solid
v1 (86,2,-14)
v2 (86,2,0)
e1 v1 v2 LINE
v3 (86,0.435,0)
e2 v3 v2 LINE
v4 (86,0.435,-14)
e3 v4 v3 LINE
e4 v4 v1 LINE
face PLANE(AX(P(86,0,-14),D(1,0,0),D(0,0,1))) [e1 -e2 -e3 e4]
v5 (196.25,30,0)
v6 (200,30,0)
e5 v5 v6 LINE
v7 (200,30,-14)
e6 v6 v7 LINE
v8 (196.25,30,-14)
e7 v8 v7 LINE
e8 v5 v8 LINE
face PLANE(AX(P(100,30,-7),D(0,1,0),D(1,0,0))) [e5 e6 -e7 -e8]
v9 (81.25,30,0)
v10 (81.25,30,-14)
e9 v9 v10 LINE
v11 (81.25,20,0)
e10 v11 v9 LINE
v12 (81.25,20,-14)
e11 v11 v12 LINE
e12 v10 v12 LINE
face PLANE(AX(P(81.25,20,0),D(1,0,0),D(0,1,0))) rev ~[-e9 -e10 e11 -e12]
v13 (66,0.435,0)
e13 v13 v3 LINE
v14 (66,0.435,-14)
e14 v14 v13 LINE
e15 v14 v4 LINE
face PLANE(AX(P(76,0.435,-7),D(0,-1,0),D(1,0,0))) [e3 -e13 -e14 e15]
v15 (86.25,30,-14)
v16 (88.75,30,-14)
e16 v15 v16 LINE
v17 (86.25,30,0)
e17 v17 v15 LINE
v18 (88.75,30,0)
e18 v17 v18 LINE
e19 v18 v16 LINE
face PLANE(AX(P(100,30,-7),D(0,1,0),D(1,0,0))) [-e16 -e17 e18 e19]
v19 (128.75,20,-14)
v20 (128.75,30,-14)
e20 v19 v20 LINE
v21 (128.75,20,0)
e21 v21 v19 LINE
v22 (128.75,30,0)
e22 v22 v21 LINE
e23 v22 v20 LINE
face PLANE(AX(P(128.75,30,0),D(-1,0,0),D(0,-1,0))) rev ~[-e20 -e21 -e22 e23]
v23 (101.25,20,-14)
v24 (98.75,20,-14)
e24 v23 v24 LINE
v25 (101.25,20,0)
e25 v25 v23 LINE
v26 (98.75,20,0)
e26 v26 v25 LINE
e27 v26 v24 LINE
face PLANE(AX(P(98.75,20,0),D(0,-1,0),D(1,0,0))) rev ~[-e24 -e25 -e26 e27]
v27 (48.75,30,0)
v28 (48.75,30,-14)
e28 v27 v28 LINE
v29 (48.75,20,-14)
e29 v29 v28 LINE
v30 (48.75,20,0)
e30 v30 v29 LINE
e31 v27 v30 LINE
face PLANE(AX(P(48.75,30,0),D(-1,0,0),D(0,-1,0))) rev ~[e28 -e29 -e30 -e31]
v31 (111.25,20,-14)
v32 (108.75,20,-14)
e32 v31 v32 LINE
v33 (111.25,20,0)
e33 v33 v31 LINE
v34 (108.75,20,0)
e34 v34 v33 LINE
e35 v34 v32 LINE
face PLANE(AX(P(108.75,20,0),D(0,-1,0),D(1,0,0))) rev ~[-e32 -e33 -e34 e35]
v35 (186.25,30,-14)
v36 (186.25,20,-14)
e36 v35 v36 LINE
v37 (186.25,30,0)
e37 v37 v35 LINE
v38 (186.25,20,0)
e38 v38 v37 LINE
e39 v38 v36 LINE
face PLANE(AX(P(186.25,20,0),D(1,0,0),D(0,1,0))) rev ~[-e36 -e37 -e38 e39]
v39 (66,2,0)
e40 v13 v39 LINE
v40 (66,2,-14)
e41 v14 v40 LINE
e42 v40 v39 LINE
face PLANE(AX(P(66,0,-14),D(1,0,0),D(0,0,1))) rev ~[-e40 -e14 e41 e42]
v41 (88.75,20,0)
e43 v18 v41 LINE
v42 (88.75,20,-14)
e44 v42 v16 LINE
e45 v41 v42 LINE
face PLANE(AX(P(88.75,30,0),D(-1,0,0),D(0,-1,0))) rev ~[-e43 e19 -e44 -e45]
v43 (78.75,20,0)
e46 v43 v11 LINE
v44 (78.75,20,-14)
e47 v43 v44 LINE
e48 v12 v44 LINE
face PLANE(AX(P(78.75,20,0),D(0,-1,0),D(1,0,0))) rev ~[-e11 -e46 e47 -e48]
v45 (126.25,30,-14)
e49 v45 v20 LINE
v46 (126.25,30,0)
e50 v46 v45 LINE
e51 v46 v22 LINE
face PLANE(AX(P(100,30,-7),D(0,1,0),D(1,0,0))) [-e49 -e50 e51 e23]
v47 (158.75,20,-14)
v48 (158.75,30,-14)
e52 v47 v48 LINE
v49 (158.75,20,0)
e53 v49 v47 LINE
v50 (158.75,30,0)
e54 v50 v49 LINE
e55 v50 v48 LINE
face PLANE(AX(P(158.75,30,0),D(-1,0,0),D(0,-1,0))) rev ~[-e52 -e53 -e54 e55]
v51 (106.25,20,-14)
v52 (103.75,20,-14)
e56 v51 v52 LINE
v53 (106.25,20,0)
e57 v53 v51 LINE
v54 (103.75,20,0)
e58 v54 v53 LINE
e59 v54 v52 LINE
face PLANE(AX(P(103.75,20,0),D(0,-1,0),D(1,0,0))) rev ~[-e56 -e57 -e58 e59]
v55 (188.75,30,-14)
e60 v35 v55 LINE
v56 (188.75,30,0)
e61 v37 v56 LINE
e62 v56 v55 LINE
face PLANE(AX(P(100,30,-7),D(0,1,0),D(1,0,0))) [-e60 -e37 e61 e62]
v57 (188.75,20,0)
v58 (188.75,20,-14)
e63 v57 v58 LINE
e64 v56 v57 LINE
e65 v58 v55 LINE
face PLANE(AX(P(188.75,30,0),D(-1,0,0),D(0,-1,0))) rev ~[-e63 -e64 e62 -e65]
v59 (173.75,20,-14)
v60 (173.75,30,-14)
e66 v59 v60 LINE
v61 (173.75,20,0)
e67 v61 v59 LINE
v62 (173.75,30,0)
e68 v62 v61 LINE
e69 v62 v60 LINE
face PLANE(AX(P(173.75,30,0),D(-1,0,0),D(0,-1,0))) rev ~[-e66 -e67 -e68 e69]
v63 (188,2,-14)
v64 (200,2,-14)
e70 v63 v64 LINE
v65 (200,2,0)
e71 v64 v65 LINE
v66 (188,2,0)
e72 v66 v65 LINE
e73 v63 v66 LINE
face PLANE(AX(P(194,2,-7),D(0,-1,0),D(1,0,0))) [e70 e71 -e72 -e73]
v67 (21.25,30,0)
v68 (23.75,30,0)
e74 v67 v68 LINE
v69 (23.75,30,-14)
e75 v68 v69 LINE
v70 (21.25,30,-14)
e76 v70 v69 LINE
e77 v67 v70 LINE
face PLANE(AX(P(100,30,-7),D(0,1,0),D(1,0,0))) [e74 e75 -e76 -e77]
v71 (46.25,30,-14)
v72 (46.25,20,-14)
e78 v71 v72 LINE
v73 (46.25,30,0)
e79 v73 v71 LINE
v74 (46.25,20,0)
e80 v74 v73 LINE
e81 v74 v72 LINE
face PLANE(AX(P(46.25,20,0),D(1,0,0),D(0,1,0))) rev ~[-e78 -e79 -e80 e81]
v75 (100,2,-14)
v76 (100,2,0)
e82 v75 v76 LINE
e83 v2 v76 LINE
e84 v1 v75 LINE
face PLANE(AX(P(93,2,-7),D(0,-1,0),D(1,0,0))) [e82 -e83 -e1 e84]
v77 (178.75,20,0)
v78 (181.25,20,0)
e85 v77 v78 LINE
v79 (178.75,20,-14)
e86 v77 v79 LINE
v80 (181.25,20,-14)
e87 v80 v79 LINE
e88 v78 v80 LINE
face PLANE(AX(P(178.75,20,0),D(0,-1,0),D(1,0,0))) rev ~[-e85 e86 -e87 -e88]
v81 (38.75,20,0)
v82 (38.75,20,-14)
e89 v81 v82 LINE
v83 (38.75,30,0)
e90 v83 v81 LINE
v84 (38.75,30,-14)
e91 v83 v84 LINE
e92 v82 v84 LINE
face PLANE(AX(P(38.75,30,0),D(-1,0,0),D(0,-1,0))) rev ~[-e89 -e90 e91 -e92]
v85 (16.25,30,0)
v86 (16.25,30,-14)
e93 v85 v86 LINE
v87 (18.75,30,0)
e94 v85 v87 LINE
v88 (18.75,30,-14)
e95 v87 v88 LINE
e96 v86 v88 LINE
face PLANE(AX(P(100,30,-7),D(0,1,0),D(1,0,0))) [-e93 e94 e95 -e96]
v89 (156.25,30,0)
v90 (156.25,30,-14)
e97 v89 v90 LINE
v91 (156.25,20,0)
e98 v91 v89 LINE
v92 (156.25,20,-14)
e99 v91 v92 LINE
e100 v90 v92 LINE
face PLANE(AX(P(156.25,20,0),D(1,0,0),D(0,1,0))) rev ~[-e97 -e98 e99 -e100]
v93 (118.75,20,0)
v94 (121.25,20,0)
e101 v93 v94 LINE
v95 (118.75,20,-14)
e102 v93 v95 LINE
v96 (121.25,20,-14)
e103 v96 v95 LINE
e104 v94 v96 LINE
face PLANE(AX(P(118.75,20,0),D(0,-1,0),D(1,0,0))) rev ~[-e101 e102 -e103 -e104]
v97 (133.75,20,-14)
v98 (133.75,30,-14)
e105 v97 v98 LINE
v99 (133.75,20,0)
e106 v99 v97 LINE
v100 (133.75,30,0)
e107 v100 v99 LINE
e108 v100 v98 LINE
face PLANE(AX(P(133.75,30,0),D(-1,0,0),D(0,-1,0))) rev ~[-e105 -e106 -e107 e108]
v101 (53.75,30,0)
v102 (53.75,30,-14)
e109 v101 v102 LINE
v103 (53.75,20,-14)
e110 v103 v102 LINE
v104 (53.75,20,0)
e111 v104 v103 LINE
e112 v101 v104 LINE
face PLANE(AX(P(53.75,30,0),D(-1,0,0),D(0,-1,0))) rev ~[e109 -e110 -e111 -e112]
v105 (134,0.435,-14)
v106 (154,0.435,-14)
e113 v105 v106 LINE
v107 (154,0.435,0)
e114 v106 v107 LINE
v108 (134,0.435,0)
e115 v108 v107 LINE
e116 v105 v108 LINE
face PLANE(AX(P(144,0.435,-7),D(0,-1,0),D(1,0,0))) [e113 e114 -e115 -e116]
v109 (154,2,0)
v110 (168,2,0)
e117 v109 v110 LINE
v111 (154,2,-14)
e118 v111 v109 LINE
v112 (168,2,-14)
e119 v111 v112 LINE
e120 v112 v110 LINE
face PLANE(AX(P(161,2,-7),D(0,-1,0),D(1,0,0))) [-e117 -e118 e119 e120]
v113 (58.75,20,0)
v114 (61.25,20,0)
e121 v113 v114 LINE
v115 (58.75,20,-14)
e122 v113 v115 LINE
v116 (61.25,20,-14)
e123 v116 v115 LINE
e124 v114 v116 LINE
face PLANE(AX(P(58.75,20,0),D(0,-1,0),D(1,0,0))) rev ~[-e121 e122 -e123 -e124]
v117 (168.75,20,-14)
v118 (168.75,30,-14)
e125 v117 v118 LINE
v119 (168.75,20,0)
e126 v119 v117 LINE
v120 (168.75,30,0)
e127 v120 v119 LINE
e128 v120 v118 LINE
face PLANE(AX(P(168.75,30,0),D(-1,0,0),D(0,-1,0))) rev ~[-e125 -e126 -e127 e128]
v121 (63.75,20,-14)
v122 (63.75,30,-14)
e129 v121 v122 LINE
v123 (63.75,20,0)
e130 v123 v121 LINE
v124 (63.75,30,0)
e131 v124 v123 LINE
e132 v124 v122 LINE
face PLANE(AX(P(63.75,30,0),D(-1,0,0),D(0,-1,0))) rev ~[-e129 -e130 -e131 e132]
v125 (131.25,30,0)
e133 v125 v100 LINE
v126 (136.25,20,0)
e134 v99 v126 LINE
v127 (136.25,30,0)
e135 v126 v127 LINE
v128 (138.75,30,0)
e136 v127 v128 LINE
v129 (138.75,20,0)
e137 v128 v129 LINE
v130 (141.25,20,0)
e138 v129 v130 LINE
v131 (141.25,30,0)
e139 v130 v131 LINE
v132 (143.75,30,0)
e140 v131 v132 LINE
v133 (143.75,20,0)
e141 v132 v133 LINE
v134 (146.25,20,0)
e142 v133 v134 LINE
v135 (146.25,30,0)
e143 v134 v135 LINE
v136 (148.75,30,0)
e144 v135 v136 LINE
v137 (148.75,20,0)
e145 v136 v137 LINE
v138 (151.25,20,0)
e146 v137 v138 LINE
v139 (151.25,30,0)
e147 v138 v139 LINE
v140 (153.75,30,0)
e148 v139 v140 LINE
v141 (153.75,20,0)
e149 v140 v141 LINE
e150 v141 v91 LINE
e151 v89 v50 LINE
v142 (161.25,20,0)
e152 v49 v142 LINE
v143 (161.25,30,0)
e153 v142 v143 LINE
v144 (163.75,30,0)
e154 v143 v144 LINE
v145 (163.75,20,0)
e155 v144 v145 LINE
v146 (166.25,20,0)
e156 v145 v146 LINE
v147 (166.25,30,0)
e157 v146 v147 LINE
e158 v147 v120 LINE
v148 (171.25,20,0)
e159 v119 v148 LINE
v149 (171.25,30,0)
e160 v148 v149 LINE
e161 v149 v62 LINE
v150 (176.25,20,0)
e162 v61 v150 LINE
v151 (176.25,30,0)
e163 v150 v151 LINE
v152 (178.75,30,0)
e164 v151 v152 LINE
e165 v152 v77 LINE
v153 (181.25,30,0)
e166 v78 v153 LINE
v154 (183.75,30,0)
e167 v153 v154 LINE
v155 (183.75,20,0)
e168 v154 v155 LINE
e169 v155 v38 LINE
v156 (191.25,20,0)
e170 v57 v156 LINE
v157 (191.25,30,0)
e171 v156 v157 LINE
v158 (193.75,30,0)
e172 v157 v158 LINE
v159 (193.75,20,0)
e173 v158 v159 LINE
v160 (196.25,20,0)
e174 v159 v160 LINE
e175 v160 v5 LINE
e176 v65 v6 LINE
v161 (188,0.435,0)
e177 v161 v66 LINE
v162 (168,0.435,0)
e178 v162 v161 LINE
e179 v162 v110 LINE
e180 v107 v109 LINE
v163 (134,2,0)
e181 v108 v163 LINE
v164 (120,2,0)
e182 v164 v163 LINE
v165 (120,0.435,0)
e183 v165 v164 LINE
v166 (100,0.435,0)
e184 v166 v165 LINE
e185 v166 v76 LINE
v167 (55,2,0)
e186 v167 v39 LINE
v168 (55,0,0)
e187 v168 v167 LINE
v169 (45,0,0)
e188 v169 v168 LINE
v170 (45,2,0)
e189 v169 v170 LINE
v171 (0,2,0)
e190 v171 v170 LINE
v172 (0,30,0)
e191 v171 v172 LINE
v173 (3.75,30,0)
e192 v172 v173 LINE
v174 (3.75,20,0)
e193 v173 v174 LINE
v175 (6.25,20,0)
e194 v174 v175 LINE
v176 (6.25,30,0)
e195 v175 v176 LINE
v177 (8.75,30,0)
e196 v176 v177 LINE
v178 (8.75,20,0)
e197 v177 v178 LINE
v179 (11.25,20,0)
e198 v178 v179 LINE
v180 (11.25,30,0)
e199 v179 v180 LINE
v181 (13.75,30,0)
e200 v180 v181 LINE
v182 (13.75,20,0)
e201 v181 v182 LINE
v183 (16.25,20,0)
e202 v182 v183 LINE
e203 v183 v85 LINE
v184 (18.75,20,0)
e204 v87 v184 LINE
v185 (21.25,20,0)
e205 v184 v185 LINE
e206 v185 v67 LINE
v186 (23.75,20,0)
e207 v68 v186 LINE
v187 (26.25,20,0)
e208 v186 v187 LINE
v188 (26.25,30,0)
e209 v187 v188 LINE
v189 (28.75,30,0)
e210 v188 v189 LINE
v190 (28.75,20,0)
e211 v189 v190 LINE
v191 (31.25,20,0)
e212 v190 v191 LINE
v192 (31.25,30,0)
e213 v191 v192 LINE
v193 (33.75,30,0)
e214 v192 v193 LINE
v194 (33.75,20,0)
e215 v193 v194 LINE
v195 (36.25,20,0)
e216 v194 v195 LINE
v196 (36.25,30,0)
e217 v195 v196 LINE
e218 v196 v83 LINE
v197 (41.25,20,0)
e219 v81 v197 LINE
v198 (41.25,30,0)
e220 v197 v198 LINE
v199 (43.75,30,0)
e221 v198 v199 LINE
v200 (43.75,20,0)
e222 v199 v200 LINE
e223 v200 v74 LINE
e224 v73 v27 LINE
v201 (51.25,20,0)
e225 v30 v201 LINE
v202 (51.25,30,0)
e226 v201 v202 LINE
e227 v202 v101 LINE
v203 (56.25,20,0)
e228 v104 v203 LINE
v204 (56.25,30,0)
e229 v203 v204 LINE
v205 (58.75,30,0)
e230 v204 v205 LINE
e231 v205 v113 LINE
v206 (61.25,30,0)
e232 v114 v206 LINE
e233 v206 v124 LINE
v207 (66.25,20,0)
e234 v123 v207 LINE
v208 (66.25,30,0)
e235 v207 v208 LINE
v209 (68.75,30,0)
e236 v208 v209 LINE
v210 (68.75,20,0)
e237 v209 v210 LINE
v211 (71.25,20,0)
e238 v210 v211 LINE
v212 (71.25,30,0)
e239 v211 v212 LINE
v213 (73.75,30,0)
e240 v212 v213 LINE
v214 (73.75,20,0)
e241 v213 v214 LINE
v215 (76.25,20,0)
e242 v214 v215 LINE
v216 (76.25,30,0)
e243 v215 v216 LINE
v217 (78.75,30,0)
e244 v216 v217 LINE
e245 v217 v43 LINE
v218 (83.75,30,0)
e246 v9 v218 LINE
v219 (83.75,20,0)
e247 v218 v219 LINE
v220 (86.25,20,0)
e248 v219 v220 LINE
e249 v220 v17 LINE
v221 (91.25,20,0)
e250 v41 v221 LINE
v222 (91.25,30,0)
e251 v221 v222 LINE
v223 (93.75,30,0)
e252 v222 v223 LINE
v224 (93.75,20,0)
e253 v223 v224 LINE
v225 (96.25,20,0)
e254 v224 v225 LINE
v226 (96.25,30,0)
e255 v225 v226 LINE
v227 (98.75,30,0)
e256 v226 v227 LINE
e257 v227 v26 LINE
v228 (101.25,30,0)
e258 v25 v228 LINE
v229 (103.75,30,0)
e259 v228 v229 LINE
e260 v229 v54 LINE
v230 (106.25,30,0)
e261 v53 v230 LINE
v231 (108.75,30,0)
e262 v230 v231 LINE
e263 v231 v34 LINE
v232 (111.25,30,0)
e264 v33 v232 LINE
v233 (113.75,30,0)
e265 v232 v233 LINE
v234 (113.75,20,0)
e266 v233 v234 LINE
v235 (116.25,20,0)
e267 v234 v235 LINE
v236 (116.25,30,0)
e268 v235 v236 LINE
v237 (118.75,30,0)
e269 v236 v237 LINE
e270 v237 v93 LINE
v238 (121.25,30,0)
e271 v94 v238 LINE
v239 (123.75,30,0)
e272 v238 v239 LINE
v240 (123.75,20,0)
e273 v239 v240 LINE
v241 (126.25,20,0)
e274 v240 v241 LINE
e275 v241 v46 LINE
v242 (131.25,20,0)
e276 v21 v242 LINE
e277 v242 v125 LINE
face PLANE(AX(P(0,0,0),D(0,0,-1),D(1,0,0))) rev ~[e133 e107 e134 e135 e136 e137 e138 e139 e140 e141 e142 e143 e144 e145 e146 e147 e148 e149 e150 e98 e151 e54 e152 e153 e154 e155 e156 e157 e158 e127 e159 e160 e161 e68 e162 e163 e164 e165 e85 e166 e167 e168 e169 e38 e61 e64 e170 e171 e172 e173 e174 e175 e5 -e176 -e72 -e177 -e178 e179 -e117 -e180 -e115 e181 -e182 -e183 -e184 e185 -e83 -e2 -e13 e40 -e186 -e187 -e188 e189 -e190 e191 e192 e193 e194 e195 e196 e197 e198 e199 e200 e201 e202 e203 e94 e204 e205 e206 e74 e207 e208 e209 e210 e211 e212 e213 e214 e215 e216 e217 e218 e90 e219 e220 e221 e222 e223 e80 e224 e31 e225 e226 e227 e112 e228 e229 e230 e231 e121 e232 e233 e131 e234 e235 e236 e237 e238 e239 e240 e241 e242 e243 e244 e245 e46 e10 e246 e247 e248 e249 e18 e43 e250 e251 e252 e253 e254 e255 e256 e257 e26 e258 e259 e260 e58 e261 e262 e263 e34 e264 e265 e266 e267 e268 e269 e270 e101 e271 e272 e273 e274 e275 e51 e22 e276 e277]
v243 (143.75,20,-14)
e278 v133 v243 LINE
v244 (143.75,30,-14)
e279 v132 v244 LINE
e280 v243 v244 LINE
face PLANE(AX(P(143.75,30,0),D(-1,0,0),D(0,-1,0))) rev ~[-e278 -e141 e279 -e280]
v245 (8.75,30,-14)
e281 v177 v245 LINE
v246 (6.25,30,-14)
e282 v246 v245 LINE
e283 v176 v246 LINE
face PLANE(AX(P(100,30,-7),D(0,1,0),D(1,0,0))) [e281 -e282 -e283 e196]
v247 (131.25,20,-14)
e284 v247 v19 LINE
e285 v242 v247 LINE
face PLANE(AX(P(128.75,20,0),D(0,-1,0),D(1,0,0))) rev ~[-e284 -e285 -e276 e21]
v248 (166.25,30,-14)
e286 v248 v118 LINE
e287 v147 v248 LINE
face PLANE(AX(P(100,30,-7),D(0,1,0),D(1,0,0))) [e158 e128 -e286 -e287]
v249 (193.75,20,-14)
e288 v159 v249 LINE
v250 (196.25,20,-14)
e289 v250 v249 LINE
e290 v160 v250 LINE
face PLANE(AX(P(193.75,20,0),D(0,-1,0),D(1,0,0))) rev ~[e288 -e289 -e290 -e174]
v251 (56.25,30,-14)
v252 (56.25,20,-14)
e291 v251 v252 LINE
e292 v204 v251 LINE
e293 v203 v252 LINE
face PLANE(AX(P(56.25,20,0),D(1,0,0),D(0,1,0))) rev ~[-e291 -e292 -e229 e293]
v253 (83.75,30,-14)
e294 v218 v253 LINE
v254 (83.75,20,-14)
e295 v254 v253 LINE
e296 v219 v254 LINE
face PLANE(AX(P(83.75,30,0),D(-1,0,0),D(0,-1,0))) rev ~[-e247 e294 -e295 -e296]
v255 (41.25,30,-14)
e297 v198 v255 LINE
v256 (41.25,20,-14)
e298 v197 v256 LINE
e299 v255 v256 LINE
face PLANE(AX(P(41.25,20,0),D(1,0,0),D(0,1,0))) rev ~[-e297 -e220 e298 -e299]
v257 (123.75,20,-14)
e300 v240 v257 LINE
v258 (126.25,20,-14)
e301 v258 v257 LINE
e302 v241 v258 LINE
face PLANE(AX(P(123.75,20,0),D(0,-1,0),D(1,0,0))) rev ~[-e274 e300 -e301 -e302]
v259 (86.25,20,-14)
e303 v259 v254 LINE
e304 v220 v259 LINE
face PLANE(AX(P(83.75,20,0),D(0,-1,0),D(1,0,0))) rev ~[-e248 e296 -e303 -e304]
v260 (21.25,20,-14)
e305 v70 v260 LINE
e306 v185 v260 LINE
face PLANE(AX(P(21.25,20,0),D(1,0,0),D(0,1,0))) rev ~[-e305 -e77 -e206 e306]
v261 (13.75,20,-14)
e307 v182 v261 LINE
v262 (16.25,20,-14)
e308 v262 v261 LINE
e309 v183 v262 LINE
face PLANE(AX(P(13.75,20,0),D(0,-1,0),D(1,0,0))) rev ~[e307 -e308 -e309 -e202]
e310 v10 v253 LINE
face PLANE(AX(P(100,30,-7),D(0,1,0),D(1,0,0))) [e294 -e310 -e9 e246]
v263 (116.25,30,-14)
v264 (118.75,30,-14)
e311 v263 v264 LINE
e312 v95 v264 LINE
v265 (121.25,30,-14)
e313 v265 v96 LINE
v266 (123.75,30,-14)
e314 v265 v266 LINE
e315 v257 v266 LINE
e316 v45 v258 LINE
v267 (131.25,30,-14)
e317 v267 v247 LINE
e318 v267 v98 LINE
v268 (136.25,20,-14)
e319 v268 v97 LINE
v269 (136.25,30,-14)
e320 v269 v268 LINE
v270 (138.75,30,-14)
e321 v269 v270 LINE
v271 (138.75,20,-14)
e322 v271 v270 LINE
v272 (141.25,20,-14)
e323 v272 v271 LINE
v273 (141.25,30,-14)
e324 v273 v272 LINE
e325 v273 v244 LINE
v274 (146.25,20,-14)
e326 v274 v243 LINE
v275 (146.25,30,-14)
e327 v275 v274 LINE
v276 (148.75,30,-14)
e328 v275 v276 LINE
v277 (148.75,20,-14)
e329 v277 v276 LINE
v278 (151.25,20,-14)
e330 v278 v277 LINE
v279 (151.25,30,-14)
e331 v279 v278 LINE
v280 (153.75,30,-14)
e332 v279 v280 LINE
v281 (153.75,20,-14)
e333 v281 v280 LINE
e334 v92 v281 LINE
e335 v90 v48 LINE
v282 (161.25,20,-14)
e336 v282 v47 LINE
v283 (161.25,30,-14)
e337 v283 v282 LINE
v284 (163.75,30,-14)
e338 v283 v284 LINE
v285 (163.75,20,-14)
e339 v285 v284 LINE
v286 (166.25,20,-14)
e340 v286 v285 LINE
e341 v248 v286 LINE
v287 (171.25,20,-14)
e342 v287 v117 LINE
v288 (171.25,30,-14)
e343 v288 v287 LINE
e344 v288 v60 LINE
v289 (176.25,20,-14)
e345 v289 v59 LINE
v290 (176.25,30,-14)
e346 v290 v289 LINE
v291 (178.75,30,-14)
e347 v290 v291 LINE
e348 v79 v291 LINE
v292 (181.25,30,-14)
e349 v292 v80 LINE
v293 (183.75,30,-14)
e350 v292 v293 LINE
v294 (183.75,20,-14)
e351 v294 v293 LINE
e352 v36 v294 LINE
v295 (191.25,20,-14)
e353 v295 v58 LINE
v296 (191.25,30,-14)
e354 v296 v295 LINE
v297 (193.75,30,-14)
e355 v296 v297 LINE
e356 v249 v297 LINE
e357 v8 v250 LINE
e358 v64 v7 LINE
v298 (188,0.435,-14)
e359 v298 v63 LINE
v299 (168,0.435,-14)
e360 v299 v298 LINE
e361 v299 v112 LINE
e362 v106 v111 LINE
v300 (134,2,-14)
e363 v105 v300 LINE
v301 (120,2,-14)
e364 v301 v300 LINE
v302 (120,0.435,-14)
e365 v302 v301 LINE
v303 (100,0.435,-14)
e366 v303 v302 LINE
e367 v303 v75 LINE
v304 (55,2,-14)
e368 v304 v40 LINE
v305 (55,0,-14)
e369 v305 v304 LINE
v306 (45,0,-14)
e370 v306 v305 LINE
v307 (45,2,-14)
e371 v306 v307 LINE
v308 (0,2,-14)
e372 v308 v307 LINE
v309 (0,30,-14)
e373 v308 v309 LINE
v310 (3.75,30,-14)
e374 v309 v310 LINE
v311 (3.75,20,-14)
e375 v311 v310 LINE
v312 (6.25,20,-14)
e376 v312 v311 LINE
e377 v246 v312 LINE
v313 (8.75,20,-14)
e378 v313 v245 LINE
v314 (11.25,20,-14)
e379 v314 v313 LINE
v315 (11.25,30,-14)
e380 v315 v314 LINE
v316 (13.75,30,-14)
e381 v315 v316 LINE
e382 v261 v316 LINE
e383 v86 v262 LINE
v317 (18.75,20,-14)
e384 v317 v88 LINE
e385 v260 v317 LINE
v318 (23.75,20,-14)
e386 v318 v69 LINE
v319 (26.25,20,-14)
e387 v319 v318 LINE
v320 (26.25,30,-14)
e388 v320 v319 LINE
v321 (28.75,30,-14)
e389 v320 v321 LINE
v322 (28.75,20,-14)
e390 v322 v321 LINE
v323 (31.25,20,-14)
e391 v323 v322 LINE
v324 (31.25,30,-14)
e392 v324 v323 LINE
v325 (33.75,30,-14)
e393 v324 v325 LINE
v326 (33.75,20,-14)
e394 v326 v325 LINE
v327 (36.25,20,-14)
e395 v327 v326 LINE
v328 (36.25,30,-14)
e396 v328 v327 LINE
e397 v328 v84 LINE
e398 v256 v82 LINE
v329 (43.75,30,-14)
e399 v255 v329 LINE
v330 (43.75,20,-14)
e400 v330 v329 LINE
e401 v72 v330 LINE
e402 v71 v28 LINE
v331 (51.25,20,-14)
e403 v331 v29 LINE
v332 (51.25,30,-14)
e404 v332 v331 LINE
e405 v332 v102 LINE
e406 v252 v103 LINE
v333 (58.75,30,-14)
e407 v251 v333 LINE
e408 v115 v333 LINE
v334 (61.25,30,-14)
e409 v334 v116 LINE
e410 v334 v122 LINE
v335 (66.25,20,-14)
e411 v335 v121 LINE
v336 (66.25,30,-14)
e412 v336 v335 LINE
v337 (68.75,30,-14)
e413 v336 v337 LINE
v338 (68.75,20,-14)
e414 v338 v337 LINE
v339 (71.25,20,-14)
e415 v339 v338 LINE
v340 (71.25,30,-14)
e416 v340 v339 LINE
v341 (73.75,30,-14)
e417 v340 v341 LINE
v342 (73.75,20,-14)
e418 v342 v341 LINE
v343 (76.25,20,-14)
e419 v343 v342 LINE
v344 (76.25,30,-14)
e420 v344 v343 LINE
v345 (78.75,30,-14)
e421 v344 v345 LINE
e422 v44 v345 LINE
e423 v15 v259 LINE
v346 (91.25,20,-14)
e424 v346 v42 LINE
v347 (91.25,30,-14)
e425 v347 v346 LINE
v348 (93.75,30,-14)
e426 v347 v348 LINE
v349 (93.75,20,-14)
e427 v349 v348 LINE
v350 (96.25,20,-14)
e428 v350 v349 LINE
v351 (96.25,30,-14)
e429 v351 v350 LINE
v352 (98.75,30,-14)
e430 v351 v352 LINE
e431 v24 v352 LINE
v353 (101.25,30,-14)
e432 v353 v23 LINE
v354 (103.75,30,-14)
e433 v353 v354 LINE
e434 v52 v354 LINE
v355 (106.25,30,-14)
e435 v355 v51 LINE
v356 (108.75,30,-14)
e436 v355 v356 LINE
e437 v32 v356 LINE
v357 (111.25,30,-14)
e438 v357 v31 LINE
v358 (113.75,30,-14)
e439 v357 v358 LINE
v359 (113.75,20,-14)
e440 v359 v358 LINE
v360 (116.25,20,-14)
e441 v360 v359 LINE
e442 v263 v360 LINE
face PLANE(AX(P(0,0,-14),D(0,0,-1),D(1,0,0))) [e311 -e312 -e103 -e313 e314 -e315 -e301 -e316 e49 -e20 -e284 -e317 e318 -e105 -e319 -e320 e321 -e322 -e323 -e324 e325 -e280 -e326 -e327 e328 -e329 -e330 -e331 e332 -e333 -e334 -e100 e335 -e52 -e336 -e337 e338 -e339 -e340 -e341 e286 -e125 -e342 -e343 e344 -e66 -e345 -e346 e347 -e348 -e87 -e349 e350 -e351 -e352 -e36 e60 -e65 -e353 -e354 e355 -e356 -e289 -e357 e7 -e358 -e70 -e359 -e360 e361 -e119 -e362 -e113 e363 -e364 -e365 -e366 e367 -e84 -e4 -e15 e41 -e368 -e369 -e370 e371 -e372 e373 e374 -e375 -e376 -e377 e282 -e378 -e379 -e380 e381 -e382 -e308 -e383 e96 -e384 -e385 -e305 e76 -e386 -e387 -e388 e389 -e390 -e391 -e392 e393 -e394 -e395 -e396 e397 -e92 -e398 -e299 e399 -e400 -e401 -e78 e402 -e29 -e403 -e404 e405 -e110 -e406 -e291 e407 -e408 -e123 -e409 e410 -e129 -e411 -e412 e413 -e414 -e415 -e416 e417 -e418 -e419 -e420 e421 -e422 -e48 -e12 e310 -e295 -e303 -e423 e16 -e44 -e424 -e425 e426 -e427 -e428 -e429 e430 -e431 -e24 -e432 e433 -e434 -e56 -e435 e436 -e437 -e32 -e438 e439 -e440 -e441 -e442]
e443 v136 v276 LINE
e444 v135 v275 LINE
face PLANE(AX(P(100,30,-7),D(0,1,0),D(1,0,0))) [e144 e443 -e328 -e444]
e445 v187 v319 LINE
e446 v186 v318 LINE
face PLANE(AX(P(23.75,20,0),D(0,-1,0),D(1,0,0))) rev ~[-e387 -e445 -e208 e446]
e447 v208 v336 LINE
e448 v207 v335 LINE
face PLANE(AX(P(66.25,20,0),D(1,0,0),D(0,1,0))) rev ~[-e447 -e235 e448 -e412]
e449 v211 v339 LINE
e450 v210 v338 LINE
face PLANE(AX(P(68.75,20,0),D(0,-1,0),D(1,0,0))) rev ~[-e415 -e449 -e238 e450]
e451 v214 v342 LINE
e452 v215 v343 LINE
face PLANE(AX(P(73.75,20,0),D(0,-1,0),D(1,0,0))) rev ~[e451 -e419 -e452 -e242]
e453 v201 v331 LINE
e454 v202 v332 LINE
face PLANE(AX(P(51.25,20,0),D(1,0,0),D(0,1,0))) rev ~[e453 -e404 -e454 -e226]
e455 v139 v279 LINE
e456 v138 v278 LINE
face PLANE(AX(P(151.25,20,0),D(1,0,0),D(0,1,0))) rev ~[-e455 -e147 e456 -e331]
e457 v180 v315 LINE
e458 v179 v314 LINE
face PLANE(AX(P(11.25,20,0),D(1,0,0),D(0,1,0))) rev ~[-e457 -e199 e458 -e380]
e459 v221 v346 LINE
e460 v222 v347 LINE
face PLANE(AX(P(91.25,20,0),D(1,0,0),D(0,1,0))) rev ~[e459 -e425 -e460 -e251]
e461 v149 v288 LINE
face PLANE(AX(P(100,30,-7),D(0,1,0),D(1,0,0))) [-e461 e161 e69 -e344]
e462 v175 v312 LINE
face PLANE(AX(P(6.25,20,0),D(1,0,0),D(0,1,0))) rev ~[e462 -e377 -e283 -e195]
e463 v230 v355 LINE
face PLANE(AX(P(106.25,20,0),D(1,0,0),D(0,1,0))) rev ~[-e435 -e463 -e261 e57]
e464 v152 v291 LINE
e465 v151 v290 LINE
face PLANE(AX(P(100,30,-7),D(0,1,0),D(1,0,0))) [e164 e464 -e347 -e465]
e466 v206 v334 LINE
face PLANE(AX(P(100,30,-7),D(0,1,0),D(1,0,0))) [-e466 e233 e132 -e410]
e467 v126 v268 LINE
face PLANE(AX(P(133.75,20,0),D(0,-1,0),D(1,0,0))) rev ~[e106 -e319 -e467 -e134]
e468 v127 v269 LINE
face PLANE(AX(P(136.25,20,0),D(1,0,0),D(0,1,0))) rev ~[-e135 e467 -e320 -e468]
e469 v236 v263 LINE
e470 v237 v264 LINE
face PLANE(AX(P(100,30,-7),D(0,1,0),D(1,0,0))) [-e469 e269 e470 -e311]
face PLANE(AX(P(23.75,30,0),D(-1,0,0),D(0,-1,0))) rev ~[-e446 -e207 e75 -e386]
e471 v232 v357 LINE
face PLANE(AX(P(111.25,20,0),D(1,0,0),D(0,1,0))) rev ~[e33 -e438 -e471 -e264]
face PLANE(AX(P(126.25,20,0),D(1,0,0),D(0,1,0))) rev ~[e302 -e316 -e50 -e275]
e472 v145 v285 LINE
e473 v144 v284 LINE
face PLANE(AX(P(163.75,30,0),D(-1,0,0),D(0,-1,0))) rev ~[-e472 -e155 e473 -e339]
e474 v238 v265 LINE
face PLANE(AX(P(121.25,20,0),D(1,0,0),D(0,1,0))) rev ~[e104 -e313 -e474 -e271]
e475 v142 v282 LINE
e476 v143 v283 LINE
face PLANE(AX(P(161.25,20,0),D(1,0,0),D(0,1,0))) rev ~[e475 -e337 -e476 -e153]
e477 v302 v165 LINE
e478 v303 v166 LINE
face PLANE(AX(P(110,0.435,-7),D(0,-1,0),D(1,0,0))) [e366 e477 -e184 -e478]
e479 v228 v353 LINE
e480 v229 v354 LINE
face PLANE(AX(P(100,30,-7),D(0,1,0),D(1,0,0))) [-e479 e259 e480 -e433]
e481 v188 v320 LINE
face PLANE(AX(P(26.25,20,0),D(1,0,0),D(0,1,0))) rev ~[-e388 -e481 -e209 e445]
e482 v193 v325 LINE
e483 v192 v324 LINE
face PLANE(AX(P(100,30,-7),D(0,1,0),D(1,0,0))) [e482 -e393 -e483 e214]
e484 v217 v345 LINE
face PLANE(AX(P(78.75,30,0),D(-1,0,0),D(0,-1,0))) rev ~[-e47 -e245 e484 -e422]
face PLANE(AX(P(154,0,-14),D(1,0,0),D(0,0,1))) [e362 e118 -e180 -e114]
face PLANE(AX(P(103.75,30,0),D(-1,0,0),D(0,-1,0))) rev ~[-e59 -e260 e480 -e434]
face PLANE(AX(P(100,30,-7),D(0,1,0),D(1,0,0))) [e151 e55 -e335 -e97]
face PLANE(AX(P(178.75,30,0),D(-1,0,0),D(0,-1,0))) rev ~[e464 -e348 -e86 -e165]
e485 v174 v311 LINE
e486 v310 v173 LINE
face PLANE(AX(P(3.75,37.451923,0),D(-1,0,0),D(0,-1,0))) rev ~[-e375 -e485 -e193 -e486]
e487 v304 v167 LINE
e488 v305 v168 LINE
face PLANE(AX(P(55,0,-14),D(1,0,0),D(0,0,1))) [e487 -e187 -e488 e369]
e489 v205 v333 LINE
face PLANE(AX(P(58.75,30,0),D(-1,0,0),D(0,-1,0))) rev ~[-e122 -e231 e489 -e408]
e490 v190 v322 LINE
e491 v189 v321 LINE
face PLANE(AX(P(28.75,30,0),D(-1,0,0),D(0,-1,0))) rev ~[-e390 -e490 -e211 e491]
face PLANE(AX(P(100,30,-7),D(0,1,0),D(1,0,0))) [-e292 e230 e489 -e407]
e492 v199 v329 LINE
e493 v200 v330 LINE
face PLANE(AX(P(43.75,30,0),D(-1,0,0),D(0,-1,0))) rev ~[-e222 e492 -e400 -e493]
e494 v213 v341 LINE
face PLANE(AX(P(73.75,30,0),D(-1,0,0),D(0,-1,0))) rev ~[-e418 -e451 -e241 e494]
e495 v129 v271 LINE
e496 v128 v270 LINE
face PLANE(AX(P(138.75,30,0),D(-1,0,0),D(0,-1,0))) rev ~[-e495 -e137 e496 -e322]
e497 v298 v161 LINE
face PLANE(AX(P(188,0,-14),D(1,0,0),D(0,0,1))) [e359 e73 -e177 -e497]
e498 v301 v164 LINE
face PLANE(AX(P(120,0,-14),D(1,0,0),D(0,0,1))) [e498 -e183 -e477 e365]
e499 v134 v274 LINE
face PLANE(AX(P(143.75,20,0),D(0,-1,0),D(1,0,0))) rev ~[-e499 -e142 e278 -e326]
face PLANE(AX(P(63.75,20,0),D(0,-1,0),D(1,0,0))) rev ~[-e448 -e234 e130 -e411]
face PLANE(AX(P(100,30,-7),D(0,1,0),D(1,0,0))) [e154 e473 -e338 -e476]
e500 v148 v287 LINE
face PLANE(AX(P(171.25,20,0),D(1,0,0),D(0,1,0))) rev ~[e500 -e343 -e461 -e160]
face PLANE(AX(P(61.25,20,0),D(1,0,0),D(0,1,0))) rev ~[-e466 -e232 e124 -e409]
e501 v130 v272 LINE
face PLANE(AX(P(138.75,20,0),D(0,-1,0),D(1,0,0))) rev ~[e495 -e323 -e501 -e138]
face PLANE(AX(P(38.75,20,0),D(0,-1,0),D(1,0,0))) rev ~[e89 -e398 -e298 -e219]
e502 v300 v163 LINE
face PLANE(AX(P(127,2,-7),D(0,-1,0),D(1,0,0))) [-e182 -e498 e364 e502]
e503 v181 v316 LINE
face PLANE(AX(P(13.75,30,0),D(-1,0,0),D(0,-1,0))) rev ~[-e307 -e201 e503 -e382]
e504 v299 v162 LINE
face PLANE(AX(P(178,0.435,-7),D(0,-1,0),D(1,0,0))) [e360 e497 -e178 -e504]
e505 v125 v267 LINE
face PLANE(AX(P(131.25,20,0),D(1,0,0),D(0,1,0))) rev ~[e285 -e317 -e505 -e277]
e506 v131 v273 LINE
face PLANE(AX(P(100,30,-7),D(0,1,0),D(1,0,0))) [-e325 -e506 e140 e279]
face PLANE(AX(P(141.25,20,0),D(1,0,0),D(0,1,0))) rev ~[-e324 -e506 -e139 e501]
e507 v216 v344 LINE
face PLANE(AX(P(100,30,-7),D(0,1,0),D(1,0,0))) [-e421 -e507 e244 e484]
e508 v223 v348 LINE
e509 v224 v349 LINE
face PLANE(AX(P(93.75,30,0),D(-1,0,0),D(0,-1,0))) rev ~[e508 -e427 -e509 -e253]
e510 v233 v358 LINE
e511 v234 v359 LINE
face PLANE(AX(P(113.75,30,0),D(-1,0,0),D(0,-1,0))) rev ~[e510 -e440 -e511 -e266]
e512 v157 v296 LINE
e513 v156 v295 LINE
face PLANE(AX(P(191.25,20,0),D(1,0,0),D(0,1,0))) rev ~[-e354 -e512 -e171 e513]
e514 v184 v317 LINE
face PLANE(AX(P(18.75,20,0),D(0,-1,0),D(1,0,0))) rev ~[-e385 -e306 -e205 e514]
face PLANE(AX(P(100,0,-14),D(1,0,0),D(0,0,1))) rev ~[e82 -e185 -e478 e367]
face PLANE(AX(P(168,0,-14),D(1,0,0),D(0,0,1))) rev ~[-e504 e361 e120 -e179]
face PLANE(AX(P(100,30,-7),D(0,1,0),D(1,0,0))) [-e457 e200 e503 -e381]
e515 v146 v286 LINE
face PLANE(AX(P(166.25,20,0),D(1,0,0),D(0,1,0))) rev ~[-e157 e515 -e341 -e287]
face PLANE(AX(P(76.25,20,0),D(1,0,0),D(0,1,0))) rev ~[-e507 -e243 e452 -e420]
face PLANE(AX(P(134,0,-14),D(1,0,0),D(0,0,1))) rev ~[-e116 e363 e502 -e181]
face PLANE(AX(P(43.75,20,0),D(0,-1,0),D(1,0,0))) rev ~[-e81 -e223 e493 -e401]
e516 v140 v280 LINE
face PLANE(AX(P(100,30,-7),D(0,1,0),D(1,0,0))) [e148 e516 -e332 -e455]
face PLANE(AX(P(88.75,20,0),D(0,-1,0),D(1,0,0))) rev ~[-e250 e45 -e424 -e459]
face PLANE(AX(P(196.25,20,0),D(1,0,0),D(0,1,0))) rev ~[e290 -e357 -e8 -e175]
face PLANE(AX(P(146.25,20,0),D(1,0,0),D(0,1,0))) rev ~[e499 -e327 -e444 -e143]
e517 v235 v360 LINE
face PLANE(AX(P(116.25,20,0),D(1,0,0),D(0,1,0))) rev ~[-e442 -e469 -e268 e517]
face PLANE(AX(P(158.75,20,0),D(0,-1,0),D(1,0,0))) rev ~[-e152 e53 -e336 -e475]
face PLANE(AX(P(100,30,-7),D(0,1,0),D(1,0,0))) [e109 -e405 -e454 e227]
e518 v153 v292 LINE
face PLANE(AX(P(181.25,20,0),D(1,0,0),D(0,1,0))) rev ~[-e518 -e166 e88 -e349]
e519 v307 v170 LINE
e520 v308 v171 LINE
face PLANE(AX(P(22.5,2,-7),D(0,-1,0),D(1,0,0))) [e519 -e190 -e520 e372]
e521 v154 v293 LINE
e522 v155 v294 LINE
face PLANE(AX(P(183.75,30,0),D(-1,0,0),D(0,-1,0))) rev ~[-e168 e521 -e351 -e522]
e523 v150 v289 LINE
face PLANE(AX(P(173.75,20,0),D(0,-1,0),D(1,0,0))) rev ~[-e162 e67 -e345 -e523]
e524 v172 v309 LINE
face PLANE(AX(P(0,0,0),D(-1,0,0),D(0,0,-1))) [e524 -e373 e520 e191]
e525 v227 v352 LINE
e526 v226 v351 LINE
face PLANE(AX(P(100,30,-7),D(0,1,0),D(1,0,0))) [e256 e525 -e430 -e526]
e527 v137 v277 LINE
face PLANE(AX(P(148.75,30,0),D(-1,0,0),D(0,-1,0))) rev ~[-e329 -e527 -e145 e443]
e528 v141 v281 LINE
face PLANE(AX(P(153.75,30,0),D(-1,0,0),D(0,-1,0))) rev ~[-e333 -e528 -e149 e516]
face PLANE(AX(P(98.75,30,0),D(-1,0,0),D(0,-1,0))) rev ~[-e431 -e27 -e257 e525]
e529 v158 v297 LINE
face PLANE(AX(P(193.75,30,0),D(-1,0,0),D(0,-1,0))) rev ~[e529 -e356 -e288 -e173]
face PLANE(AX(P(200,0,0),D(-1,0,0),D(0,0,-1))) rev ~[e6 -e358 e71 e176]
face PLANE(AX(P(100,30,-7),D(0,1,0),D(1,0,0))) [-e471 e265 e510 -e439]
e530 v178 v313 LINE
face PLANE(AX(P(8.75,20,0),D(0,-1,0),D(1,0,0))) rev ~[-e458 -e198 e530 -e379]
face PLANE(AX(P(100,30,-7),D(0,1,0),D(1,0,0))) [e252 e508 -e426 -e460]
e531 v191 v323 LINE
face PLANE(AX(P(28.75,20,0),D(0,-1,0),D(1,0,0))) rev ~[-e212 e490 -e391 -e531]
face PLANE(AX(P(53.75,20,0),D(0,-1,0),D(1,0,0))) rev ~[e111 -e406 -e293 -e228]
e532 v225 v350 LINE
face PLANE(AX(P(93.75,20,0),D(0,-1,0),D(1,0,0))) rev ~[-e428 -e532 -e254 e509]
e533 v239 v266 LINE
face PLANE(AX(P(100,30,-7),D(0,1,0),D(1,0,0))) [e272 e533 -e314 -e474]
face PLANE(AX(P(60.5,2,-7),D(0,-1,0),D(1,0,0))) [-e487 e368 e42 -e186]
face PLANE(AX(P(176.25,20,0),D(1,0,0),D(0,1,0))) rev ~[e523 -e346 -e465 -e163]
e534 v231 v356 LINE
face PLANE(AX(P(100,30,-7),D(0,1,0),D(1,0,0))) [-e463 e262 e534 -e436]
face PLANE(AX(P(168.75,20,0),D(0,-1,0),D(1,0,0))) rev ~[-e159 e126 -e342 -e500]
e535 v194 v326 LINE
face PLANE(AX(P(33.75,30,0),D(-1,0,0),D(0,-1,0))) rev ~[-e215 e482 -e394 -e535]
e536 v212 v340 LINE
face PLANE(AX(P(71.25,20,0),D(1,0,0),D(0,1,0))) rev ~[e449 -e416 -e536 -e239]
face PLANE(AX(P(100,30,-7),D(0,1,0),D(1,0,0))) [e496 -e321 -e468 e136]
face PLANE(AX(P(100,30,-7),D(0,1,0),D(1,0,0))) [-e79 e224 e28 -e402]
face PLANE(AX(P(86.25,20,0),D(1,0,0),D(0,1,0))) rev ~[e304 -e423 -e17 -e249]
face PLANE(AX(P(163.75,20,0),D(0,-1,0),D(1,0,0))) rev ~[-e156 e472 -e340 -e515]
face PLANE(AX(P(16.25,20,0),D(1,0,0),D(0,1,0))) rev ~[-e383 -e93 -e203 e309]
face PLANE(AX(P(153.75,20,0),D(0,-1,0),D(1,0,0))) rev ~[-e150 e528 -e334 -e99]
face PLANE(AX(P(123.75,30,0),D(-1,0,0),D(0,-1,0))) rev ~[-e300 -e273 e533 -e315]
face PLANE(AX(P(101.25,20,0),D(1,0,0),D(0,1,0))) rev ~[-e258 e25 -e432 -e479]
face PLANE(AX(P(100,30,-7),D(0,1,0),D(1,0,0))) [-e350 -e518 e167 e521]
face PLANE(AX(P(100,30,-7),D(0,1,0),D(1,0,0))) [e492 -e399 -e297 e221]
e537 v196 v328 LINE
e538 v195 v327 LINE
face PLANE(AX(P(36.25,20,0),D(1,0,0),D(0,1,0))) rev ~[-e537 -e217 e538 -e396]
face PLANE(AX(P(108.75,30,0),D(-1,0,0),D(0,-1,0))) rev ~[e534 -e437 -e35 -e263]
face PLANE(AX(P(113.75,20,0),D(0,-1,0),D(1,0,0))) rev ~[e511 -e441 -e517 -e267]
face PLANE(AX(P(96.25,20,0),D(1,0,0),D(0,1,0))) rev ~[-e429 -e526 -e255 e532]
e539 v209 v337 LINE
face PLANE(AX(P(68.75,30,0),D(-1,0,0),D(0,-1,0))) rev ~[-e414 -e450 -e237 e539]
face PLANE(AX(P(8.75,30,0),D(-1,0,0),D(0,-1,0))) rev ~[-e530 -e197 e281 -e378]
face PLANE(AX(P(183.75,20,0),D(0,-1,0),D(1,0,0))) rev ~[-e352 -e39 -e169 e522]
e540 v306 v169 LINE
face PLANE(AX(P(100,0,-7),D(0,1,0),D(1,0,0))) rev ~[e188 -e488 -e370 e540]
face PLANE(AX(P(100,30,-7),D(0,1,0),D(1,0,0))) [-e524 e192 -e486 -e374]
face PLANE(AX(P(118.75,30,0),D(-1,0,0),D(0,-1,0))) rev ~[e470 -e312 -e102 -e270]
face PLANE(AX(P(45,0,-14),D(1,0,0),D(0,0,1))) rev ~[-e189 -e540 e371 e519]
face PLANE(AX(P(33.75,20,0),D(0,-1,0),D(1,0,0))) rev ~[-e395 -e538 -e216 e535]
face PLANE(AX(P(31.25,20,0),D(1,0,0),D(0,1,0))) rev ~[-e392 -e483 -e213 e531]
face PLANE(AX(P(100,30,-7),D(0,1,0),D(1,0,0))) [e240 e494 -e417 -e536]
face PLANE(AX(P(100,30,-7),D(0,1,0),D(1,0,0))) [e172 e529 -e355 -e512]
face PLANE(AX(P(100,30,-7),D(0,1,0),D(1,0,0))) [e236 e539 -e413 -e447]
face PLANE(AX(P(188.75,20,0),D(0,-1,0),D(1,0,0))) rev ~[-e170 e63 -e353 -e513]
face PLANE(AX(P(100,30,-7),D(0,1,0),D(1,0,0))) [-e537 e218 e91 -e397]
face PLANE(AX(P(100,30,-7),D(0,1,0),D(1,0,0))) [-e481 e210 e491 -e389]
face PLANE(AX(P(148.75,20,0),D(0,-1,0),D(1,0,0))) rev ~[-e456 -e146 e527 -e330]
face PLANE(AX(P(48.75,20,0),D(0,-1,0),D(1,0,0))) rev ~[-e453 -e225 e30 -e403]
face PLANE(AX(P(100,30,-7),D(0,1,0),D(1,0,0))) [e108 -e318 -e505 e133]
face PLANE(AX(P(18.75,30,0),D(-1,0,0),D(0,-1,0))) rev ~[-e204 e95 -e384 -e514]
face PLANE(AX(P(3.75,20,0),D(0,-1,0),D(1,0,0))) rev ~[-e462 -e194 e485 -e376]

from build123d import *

# Parameters (mm, degrees)
SKETCH1_W           = 200
SKETCH1_H           = 14
BOSS_EXTRUDE1_DEPTH = 30
SKETCH2_W           = 12
SKETCH2_H           = 14
SKETCH2_W_2         = 14
SKETCH2_W_3         = 11
SKETCH2_W_4         = 45
CUT_EXTRUDE1_DEPTH  = 2
SKETCH3_W           = 20
SKETCH3_H           = 14
CUT_EXTRUDE2_DEPTH  = 0.435
CUT_EXTRUDE4_DEPTH  = 203.721483815


with BuildPart() as part:
    # Sketch1 → Boss-Extrude1 (new body)
    with BuildSketch(Plane(origin=(0, 0, 0), x_dir=(1, 0, 0), z_dir=(0, 1, 0))):
        with Locations((100, 7)):
            Rectangle(SKETCH1_W, SKETCH1_H)
    extrude(amount=BOSS_EXTRUDE1_DEPTH)

    # Sketch2 → Cut-Extrude1 (cut)
    with BuildSketch(Plane.XZ):
        with Locations((194, -7)):
            Rectangle(SKETCH2_W, SKETCH2_H)
        with Locations((161, -7)):
            Rectangle(SKETCH2_W_2, SKETCH2_H)
        with Locations((127, -7)):
            Rectangle(SKETCH2_W_2, SKETCH2_H)
        with Locations((93, -7)):
            Rectangle(SKETCH2_W_2, SKETCH2_H)
        with Locations((60.5, -7)):
            Rectangle(SKETCH2_W_3, SKETCH2_H)
        with Locations((22.5, -7)):
            Rectangle(SKETCH2_W_4, SKETCH2_H)
    extrude(amount=-CUT_EXTRUDE1_DEPTH, mode=Mode.SUBTRACT)

    # Sketch3 → Cut-Extrude2 (cut)
    with BuildSketch(Plane.XZ):
        with Locations((76, -7)):
            Rectangle(SKETCH3_W, SKETCH3_H)
        with Locations((110, -7)):
            Rectangle(SKETCH3_W, SKETCH3_H)
        with Locations((144, -7)):
            Rectangle(SKETCH3_W, SKETCH3_H)
        with Locations((178, -7)):
            Rectangle(SKETCH3_W, SKETCH3_H)
    extrude(amount=-CUT_EXTRUDE2_DEPTH, mode=Mode.SUBTRACT)

    # Sketch5 → Cut-Extrude4 (cut, through all)
    with BuildSketch(Plane.XY):
        Polygon((3.75, 30), (3.75, 20), (6.25, 20), (6.25, 30), (8.75, 30), (8.75, 20), (11.25, 20), (11.25, 30), (13.75, 30), (13.75, 20), (16.25, 20), (16.25, 30), (18.75, 30), (18.75, 20), (21.25, 20), (21.25, 30), (23.75, 30), (23.75, 20), (26.25, 20), (26.25, 30), (28.75, 30), (28.75, 20), (31.25, 20), (31.25, 30), (33.75, 30), (33.75, 20), (36.25, 20), (36.25, 30), (38.75, 30), (38.75, 20), (41.25, 20), (41.25, 30), (43.75, 30), (43.75, 20), (46.25, 20), (46.25, 30), (48.75, 30), (48.75, 20), (51.25, 20), (51.25, 30), (53.75, 30), (53.75, 20), (56.25, 20), (56.25, 30), (58.75, 30), (58.75, 20), (61.25, 20), (61.25, 30), (63.75, 30), (63.75, 20), (66.25, 20), (66.25, 30), (68.75, 30), (68.75, 20), (71.25, 20), (71.25, 30), (73.75, 30), (73.75, 20), (76.25, 20), (76.25, 30), (78.75, 30), (78.75, 20), (81.25, 20), (81.25, 30), (83.75, 30), (83.75, 20), (86.25, 20), (86.25, 30), (88.75, 30), (88.75, 20), (91.25, 20), (91.25, 30), (93.75, 30), (93.75, 20), (96.25, 20), (96.25, 30), (98.75, 30), (98.75, 20), (101.25, 20), (101.25, 30), (103.75, 30), (103.75, 20), (106.25, 20), (106.25, 30), (108.75, 30), (108.75, 20), (111.25, 20), (111.25, 30), (113.75, 30), (113.75, 20), (116.25, 20), (116.25, 30), (118.75, 30), (118.75, 20), (121.25, 20), (121.25, 30), (123.75, 30), (123.75, 20), (126.25, 20), (126.25, 30), (128.75, 30), (128.75, 20), (131.25, 20), (131.25, 30), (133.75, 30), (133.75, 20), (136.25, 20), (136.25, 30), (138.75, 30), (138.75, 20), (141.25, 20), (141.25, 30), (143.75, 30), (143.75, 20), (146.25, 20), (146.25, 30), (148.75, 30), (148.75, 20), (151.25, 20), (151.25, 30), (153.75, 30), (153.75, 20), (156.25, 20), (156.25, 30), (158.75, 30), (158.75, 20), (161.25, 20), (161.25, 30), (163.75, 30), (163.75, 20), (166.25, 20), (166.25, 30), (168.75, 30), (168.75, 20), (171.25, 20), (171.25, 30), (173.75, 30), (173.75, 20), (176.25, 20), (176.25, 30), (178.75, 30), (178.75, 20), (181.25, 20), (181.25, 30), (183.75, 30), (183.75, 20), (186.25, 20), (186.25, 30), (188.75, 30), (188.75, 20), (191.25, 20), (191.25, 30), (193.75, 30), (193.75, 20), (196.25, 20), (196.25, 30), (196.25, 37.451923055), (3.75, 37.451923055), align=None)
    extrude(amount=-CUT_EXTRUDE4_DEPTH, mode=Mode.SUBTRACT)


solid = part.part
